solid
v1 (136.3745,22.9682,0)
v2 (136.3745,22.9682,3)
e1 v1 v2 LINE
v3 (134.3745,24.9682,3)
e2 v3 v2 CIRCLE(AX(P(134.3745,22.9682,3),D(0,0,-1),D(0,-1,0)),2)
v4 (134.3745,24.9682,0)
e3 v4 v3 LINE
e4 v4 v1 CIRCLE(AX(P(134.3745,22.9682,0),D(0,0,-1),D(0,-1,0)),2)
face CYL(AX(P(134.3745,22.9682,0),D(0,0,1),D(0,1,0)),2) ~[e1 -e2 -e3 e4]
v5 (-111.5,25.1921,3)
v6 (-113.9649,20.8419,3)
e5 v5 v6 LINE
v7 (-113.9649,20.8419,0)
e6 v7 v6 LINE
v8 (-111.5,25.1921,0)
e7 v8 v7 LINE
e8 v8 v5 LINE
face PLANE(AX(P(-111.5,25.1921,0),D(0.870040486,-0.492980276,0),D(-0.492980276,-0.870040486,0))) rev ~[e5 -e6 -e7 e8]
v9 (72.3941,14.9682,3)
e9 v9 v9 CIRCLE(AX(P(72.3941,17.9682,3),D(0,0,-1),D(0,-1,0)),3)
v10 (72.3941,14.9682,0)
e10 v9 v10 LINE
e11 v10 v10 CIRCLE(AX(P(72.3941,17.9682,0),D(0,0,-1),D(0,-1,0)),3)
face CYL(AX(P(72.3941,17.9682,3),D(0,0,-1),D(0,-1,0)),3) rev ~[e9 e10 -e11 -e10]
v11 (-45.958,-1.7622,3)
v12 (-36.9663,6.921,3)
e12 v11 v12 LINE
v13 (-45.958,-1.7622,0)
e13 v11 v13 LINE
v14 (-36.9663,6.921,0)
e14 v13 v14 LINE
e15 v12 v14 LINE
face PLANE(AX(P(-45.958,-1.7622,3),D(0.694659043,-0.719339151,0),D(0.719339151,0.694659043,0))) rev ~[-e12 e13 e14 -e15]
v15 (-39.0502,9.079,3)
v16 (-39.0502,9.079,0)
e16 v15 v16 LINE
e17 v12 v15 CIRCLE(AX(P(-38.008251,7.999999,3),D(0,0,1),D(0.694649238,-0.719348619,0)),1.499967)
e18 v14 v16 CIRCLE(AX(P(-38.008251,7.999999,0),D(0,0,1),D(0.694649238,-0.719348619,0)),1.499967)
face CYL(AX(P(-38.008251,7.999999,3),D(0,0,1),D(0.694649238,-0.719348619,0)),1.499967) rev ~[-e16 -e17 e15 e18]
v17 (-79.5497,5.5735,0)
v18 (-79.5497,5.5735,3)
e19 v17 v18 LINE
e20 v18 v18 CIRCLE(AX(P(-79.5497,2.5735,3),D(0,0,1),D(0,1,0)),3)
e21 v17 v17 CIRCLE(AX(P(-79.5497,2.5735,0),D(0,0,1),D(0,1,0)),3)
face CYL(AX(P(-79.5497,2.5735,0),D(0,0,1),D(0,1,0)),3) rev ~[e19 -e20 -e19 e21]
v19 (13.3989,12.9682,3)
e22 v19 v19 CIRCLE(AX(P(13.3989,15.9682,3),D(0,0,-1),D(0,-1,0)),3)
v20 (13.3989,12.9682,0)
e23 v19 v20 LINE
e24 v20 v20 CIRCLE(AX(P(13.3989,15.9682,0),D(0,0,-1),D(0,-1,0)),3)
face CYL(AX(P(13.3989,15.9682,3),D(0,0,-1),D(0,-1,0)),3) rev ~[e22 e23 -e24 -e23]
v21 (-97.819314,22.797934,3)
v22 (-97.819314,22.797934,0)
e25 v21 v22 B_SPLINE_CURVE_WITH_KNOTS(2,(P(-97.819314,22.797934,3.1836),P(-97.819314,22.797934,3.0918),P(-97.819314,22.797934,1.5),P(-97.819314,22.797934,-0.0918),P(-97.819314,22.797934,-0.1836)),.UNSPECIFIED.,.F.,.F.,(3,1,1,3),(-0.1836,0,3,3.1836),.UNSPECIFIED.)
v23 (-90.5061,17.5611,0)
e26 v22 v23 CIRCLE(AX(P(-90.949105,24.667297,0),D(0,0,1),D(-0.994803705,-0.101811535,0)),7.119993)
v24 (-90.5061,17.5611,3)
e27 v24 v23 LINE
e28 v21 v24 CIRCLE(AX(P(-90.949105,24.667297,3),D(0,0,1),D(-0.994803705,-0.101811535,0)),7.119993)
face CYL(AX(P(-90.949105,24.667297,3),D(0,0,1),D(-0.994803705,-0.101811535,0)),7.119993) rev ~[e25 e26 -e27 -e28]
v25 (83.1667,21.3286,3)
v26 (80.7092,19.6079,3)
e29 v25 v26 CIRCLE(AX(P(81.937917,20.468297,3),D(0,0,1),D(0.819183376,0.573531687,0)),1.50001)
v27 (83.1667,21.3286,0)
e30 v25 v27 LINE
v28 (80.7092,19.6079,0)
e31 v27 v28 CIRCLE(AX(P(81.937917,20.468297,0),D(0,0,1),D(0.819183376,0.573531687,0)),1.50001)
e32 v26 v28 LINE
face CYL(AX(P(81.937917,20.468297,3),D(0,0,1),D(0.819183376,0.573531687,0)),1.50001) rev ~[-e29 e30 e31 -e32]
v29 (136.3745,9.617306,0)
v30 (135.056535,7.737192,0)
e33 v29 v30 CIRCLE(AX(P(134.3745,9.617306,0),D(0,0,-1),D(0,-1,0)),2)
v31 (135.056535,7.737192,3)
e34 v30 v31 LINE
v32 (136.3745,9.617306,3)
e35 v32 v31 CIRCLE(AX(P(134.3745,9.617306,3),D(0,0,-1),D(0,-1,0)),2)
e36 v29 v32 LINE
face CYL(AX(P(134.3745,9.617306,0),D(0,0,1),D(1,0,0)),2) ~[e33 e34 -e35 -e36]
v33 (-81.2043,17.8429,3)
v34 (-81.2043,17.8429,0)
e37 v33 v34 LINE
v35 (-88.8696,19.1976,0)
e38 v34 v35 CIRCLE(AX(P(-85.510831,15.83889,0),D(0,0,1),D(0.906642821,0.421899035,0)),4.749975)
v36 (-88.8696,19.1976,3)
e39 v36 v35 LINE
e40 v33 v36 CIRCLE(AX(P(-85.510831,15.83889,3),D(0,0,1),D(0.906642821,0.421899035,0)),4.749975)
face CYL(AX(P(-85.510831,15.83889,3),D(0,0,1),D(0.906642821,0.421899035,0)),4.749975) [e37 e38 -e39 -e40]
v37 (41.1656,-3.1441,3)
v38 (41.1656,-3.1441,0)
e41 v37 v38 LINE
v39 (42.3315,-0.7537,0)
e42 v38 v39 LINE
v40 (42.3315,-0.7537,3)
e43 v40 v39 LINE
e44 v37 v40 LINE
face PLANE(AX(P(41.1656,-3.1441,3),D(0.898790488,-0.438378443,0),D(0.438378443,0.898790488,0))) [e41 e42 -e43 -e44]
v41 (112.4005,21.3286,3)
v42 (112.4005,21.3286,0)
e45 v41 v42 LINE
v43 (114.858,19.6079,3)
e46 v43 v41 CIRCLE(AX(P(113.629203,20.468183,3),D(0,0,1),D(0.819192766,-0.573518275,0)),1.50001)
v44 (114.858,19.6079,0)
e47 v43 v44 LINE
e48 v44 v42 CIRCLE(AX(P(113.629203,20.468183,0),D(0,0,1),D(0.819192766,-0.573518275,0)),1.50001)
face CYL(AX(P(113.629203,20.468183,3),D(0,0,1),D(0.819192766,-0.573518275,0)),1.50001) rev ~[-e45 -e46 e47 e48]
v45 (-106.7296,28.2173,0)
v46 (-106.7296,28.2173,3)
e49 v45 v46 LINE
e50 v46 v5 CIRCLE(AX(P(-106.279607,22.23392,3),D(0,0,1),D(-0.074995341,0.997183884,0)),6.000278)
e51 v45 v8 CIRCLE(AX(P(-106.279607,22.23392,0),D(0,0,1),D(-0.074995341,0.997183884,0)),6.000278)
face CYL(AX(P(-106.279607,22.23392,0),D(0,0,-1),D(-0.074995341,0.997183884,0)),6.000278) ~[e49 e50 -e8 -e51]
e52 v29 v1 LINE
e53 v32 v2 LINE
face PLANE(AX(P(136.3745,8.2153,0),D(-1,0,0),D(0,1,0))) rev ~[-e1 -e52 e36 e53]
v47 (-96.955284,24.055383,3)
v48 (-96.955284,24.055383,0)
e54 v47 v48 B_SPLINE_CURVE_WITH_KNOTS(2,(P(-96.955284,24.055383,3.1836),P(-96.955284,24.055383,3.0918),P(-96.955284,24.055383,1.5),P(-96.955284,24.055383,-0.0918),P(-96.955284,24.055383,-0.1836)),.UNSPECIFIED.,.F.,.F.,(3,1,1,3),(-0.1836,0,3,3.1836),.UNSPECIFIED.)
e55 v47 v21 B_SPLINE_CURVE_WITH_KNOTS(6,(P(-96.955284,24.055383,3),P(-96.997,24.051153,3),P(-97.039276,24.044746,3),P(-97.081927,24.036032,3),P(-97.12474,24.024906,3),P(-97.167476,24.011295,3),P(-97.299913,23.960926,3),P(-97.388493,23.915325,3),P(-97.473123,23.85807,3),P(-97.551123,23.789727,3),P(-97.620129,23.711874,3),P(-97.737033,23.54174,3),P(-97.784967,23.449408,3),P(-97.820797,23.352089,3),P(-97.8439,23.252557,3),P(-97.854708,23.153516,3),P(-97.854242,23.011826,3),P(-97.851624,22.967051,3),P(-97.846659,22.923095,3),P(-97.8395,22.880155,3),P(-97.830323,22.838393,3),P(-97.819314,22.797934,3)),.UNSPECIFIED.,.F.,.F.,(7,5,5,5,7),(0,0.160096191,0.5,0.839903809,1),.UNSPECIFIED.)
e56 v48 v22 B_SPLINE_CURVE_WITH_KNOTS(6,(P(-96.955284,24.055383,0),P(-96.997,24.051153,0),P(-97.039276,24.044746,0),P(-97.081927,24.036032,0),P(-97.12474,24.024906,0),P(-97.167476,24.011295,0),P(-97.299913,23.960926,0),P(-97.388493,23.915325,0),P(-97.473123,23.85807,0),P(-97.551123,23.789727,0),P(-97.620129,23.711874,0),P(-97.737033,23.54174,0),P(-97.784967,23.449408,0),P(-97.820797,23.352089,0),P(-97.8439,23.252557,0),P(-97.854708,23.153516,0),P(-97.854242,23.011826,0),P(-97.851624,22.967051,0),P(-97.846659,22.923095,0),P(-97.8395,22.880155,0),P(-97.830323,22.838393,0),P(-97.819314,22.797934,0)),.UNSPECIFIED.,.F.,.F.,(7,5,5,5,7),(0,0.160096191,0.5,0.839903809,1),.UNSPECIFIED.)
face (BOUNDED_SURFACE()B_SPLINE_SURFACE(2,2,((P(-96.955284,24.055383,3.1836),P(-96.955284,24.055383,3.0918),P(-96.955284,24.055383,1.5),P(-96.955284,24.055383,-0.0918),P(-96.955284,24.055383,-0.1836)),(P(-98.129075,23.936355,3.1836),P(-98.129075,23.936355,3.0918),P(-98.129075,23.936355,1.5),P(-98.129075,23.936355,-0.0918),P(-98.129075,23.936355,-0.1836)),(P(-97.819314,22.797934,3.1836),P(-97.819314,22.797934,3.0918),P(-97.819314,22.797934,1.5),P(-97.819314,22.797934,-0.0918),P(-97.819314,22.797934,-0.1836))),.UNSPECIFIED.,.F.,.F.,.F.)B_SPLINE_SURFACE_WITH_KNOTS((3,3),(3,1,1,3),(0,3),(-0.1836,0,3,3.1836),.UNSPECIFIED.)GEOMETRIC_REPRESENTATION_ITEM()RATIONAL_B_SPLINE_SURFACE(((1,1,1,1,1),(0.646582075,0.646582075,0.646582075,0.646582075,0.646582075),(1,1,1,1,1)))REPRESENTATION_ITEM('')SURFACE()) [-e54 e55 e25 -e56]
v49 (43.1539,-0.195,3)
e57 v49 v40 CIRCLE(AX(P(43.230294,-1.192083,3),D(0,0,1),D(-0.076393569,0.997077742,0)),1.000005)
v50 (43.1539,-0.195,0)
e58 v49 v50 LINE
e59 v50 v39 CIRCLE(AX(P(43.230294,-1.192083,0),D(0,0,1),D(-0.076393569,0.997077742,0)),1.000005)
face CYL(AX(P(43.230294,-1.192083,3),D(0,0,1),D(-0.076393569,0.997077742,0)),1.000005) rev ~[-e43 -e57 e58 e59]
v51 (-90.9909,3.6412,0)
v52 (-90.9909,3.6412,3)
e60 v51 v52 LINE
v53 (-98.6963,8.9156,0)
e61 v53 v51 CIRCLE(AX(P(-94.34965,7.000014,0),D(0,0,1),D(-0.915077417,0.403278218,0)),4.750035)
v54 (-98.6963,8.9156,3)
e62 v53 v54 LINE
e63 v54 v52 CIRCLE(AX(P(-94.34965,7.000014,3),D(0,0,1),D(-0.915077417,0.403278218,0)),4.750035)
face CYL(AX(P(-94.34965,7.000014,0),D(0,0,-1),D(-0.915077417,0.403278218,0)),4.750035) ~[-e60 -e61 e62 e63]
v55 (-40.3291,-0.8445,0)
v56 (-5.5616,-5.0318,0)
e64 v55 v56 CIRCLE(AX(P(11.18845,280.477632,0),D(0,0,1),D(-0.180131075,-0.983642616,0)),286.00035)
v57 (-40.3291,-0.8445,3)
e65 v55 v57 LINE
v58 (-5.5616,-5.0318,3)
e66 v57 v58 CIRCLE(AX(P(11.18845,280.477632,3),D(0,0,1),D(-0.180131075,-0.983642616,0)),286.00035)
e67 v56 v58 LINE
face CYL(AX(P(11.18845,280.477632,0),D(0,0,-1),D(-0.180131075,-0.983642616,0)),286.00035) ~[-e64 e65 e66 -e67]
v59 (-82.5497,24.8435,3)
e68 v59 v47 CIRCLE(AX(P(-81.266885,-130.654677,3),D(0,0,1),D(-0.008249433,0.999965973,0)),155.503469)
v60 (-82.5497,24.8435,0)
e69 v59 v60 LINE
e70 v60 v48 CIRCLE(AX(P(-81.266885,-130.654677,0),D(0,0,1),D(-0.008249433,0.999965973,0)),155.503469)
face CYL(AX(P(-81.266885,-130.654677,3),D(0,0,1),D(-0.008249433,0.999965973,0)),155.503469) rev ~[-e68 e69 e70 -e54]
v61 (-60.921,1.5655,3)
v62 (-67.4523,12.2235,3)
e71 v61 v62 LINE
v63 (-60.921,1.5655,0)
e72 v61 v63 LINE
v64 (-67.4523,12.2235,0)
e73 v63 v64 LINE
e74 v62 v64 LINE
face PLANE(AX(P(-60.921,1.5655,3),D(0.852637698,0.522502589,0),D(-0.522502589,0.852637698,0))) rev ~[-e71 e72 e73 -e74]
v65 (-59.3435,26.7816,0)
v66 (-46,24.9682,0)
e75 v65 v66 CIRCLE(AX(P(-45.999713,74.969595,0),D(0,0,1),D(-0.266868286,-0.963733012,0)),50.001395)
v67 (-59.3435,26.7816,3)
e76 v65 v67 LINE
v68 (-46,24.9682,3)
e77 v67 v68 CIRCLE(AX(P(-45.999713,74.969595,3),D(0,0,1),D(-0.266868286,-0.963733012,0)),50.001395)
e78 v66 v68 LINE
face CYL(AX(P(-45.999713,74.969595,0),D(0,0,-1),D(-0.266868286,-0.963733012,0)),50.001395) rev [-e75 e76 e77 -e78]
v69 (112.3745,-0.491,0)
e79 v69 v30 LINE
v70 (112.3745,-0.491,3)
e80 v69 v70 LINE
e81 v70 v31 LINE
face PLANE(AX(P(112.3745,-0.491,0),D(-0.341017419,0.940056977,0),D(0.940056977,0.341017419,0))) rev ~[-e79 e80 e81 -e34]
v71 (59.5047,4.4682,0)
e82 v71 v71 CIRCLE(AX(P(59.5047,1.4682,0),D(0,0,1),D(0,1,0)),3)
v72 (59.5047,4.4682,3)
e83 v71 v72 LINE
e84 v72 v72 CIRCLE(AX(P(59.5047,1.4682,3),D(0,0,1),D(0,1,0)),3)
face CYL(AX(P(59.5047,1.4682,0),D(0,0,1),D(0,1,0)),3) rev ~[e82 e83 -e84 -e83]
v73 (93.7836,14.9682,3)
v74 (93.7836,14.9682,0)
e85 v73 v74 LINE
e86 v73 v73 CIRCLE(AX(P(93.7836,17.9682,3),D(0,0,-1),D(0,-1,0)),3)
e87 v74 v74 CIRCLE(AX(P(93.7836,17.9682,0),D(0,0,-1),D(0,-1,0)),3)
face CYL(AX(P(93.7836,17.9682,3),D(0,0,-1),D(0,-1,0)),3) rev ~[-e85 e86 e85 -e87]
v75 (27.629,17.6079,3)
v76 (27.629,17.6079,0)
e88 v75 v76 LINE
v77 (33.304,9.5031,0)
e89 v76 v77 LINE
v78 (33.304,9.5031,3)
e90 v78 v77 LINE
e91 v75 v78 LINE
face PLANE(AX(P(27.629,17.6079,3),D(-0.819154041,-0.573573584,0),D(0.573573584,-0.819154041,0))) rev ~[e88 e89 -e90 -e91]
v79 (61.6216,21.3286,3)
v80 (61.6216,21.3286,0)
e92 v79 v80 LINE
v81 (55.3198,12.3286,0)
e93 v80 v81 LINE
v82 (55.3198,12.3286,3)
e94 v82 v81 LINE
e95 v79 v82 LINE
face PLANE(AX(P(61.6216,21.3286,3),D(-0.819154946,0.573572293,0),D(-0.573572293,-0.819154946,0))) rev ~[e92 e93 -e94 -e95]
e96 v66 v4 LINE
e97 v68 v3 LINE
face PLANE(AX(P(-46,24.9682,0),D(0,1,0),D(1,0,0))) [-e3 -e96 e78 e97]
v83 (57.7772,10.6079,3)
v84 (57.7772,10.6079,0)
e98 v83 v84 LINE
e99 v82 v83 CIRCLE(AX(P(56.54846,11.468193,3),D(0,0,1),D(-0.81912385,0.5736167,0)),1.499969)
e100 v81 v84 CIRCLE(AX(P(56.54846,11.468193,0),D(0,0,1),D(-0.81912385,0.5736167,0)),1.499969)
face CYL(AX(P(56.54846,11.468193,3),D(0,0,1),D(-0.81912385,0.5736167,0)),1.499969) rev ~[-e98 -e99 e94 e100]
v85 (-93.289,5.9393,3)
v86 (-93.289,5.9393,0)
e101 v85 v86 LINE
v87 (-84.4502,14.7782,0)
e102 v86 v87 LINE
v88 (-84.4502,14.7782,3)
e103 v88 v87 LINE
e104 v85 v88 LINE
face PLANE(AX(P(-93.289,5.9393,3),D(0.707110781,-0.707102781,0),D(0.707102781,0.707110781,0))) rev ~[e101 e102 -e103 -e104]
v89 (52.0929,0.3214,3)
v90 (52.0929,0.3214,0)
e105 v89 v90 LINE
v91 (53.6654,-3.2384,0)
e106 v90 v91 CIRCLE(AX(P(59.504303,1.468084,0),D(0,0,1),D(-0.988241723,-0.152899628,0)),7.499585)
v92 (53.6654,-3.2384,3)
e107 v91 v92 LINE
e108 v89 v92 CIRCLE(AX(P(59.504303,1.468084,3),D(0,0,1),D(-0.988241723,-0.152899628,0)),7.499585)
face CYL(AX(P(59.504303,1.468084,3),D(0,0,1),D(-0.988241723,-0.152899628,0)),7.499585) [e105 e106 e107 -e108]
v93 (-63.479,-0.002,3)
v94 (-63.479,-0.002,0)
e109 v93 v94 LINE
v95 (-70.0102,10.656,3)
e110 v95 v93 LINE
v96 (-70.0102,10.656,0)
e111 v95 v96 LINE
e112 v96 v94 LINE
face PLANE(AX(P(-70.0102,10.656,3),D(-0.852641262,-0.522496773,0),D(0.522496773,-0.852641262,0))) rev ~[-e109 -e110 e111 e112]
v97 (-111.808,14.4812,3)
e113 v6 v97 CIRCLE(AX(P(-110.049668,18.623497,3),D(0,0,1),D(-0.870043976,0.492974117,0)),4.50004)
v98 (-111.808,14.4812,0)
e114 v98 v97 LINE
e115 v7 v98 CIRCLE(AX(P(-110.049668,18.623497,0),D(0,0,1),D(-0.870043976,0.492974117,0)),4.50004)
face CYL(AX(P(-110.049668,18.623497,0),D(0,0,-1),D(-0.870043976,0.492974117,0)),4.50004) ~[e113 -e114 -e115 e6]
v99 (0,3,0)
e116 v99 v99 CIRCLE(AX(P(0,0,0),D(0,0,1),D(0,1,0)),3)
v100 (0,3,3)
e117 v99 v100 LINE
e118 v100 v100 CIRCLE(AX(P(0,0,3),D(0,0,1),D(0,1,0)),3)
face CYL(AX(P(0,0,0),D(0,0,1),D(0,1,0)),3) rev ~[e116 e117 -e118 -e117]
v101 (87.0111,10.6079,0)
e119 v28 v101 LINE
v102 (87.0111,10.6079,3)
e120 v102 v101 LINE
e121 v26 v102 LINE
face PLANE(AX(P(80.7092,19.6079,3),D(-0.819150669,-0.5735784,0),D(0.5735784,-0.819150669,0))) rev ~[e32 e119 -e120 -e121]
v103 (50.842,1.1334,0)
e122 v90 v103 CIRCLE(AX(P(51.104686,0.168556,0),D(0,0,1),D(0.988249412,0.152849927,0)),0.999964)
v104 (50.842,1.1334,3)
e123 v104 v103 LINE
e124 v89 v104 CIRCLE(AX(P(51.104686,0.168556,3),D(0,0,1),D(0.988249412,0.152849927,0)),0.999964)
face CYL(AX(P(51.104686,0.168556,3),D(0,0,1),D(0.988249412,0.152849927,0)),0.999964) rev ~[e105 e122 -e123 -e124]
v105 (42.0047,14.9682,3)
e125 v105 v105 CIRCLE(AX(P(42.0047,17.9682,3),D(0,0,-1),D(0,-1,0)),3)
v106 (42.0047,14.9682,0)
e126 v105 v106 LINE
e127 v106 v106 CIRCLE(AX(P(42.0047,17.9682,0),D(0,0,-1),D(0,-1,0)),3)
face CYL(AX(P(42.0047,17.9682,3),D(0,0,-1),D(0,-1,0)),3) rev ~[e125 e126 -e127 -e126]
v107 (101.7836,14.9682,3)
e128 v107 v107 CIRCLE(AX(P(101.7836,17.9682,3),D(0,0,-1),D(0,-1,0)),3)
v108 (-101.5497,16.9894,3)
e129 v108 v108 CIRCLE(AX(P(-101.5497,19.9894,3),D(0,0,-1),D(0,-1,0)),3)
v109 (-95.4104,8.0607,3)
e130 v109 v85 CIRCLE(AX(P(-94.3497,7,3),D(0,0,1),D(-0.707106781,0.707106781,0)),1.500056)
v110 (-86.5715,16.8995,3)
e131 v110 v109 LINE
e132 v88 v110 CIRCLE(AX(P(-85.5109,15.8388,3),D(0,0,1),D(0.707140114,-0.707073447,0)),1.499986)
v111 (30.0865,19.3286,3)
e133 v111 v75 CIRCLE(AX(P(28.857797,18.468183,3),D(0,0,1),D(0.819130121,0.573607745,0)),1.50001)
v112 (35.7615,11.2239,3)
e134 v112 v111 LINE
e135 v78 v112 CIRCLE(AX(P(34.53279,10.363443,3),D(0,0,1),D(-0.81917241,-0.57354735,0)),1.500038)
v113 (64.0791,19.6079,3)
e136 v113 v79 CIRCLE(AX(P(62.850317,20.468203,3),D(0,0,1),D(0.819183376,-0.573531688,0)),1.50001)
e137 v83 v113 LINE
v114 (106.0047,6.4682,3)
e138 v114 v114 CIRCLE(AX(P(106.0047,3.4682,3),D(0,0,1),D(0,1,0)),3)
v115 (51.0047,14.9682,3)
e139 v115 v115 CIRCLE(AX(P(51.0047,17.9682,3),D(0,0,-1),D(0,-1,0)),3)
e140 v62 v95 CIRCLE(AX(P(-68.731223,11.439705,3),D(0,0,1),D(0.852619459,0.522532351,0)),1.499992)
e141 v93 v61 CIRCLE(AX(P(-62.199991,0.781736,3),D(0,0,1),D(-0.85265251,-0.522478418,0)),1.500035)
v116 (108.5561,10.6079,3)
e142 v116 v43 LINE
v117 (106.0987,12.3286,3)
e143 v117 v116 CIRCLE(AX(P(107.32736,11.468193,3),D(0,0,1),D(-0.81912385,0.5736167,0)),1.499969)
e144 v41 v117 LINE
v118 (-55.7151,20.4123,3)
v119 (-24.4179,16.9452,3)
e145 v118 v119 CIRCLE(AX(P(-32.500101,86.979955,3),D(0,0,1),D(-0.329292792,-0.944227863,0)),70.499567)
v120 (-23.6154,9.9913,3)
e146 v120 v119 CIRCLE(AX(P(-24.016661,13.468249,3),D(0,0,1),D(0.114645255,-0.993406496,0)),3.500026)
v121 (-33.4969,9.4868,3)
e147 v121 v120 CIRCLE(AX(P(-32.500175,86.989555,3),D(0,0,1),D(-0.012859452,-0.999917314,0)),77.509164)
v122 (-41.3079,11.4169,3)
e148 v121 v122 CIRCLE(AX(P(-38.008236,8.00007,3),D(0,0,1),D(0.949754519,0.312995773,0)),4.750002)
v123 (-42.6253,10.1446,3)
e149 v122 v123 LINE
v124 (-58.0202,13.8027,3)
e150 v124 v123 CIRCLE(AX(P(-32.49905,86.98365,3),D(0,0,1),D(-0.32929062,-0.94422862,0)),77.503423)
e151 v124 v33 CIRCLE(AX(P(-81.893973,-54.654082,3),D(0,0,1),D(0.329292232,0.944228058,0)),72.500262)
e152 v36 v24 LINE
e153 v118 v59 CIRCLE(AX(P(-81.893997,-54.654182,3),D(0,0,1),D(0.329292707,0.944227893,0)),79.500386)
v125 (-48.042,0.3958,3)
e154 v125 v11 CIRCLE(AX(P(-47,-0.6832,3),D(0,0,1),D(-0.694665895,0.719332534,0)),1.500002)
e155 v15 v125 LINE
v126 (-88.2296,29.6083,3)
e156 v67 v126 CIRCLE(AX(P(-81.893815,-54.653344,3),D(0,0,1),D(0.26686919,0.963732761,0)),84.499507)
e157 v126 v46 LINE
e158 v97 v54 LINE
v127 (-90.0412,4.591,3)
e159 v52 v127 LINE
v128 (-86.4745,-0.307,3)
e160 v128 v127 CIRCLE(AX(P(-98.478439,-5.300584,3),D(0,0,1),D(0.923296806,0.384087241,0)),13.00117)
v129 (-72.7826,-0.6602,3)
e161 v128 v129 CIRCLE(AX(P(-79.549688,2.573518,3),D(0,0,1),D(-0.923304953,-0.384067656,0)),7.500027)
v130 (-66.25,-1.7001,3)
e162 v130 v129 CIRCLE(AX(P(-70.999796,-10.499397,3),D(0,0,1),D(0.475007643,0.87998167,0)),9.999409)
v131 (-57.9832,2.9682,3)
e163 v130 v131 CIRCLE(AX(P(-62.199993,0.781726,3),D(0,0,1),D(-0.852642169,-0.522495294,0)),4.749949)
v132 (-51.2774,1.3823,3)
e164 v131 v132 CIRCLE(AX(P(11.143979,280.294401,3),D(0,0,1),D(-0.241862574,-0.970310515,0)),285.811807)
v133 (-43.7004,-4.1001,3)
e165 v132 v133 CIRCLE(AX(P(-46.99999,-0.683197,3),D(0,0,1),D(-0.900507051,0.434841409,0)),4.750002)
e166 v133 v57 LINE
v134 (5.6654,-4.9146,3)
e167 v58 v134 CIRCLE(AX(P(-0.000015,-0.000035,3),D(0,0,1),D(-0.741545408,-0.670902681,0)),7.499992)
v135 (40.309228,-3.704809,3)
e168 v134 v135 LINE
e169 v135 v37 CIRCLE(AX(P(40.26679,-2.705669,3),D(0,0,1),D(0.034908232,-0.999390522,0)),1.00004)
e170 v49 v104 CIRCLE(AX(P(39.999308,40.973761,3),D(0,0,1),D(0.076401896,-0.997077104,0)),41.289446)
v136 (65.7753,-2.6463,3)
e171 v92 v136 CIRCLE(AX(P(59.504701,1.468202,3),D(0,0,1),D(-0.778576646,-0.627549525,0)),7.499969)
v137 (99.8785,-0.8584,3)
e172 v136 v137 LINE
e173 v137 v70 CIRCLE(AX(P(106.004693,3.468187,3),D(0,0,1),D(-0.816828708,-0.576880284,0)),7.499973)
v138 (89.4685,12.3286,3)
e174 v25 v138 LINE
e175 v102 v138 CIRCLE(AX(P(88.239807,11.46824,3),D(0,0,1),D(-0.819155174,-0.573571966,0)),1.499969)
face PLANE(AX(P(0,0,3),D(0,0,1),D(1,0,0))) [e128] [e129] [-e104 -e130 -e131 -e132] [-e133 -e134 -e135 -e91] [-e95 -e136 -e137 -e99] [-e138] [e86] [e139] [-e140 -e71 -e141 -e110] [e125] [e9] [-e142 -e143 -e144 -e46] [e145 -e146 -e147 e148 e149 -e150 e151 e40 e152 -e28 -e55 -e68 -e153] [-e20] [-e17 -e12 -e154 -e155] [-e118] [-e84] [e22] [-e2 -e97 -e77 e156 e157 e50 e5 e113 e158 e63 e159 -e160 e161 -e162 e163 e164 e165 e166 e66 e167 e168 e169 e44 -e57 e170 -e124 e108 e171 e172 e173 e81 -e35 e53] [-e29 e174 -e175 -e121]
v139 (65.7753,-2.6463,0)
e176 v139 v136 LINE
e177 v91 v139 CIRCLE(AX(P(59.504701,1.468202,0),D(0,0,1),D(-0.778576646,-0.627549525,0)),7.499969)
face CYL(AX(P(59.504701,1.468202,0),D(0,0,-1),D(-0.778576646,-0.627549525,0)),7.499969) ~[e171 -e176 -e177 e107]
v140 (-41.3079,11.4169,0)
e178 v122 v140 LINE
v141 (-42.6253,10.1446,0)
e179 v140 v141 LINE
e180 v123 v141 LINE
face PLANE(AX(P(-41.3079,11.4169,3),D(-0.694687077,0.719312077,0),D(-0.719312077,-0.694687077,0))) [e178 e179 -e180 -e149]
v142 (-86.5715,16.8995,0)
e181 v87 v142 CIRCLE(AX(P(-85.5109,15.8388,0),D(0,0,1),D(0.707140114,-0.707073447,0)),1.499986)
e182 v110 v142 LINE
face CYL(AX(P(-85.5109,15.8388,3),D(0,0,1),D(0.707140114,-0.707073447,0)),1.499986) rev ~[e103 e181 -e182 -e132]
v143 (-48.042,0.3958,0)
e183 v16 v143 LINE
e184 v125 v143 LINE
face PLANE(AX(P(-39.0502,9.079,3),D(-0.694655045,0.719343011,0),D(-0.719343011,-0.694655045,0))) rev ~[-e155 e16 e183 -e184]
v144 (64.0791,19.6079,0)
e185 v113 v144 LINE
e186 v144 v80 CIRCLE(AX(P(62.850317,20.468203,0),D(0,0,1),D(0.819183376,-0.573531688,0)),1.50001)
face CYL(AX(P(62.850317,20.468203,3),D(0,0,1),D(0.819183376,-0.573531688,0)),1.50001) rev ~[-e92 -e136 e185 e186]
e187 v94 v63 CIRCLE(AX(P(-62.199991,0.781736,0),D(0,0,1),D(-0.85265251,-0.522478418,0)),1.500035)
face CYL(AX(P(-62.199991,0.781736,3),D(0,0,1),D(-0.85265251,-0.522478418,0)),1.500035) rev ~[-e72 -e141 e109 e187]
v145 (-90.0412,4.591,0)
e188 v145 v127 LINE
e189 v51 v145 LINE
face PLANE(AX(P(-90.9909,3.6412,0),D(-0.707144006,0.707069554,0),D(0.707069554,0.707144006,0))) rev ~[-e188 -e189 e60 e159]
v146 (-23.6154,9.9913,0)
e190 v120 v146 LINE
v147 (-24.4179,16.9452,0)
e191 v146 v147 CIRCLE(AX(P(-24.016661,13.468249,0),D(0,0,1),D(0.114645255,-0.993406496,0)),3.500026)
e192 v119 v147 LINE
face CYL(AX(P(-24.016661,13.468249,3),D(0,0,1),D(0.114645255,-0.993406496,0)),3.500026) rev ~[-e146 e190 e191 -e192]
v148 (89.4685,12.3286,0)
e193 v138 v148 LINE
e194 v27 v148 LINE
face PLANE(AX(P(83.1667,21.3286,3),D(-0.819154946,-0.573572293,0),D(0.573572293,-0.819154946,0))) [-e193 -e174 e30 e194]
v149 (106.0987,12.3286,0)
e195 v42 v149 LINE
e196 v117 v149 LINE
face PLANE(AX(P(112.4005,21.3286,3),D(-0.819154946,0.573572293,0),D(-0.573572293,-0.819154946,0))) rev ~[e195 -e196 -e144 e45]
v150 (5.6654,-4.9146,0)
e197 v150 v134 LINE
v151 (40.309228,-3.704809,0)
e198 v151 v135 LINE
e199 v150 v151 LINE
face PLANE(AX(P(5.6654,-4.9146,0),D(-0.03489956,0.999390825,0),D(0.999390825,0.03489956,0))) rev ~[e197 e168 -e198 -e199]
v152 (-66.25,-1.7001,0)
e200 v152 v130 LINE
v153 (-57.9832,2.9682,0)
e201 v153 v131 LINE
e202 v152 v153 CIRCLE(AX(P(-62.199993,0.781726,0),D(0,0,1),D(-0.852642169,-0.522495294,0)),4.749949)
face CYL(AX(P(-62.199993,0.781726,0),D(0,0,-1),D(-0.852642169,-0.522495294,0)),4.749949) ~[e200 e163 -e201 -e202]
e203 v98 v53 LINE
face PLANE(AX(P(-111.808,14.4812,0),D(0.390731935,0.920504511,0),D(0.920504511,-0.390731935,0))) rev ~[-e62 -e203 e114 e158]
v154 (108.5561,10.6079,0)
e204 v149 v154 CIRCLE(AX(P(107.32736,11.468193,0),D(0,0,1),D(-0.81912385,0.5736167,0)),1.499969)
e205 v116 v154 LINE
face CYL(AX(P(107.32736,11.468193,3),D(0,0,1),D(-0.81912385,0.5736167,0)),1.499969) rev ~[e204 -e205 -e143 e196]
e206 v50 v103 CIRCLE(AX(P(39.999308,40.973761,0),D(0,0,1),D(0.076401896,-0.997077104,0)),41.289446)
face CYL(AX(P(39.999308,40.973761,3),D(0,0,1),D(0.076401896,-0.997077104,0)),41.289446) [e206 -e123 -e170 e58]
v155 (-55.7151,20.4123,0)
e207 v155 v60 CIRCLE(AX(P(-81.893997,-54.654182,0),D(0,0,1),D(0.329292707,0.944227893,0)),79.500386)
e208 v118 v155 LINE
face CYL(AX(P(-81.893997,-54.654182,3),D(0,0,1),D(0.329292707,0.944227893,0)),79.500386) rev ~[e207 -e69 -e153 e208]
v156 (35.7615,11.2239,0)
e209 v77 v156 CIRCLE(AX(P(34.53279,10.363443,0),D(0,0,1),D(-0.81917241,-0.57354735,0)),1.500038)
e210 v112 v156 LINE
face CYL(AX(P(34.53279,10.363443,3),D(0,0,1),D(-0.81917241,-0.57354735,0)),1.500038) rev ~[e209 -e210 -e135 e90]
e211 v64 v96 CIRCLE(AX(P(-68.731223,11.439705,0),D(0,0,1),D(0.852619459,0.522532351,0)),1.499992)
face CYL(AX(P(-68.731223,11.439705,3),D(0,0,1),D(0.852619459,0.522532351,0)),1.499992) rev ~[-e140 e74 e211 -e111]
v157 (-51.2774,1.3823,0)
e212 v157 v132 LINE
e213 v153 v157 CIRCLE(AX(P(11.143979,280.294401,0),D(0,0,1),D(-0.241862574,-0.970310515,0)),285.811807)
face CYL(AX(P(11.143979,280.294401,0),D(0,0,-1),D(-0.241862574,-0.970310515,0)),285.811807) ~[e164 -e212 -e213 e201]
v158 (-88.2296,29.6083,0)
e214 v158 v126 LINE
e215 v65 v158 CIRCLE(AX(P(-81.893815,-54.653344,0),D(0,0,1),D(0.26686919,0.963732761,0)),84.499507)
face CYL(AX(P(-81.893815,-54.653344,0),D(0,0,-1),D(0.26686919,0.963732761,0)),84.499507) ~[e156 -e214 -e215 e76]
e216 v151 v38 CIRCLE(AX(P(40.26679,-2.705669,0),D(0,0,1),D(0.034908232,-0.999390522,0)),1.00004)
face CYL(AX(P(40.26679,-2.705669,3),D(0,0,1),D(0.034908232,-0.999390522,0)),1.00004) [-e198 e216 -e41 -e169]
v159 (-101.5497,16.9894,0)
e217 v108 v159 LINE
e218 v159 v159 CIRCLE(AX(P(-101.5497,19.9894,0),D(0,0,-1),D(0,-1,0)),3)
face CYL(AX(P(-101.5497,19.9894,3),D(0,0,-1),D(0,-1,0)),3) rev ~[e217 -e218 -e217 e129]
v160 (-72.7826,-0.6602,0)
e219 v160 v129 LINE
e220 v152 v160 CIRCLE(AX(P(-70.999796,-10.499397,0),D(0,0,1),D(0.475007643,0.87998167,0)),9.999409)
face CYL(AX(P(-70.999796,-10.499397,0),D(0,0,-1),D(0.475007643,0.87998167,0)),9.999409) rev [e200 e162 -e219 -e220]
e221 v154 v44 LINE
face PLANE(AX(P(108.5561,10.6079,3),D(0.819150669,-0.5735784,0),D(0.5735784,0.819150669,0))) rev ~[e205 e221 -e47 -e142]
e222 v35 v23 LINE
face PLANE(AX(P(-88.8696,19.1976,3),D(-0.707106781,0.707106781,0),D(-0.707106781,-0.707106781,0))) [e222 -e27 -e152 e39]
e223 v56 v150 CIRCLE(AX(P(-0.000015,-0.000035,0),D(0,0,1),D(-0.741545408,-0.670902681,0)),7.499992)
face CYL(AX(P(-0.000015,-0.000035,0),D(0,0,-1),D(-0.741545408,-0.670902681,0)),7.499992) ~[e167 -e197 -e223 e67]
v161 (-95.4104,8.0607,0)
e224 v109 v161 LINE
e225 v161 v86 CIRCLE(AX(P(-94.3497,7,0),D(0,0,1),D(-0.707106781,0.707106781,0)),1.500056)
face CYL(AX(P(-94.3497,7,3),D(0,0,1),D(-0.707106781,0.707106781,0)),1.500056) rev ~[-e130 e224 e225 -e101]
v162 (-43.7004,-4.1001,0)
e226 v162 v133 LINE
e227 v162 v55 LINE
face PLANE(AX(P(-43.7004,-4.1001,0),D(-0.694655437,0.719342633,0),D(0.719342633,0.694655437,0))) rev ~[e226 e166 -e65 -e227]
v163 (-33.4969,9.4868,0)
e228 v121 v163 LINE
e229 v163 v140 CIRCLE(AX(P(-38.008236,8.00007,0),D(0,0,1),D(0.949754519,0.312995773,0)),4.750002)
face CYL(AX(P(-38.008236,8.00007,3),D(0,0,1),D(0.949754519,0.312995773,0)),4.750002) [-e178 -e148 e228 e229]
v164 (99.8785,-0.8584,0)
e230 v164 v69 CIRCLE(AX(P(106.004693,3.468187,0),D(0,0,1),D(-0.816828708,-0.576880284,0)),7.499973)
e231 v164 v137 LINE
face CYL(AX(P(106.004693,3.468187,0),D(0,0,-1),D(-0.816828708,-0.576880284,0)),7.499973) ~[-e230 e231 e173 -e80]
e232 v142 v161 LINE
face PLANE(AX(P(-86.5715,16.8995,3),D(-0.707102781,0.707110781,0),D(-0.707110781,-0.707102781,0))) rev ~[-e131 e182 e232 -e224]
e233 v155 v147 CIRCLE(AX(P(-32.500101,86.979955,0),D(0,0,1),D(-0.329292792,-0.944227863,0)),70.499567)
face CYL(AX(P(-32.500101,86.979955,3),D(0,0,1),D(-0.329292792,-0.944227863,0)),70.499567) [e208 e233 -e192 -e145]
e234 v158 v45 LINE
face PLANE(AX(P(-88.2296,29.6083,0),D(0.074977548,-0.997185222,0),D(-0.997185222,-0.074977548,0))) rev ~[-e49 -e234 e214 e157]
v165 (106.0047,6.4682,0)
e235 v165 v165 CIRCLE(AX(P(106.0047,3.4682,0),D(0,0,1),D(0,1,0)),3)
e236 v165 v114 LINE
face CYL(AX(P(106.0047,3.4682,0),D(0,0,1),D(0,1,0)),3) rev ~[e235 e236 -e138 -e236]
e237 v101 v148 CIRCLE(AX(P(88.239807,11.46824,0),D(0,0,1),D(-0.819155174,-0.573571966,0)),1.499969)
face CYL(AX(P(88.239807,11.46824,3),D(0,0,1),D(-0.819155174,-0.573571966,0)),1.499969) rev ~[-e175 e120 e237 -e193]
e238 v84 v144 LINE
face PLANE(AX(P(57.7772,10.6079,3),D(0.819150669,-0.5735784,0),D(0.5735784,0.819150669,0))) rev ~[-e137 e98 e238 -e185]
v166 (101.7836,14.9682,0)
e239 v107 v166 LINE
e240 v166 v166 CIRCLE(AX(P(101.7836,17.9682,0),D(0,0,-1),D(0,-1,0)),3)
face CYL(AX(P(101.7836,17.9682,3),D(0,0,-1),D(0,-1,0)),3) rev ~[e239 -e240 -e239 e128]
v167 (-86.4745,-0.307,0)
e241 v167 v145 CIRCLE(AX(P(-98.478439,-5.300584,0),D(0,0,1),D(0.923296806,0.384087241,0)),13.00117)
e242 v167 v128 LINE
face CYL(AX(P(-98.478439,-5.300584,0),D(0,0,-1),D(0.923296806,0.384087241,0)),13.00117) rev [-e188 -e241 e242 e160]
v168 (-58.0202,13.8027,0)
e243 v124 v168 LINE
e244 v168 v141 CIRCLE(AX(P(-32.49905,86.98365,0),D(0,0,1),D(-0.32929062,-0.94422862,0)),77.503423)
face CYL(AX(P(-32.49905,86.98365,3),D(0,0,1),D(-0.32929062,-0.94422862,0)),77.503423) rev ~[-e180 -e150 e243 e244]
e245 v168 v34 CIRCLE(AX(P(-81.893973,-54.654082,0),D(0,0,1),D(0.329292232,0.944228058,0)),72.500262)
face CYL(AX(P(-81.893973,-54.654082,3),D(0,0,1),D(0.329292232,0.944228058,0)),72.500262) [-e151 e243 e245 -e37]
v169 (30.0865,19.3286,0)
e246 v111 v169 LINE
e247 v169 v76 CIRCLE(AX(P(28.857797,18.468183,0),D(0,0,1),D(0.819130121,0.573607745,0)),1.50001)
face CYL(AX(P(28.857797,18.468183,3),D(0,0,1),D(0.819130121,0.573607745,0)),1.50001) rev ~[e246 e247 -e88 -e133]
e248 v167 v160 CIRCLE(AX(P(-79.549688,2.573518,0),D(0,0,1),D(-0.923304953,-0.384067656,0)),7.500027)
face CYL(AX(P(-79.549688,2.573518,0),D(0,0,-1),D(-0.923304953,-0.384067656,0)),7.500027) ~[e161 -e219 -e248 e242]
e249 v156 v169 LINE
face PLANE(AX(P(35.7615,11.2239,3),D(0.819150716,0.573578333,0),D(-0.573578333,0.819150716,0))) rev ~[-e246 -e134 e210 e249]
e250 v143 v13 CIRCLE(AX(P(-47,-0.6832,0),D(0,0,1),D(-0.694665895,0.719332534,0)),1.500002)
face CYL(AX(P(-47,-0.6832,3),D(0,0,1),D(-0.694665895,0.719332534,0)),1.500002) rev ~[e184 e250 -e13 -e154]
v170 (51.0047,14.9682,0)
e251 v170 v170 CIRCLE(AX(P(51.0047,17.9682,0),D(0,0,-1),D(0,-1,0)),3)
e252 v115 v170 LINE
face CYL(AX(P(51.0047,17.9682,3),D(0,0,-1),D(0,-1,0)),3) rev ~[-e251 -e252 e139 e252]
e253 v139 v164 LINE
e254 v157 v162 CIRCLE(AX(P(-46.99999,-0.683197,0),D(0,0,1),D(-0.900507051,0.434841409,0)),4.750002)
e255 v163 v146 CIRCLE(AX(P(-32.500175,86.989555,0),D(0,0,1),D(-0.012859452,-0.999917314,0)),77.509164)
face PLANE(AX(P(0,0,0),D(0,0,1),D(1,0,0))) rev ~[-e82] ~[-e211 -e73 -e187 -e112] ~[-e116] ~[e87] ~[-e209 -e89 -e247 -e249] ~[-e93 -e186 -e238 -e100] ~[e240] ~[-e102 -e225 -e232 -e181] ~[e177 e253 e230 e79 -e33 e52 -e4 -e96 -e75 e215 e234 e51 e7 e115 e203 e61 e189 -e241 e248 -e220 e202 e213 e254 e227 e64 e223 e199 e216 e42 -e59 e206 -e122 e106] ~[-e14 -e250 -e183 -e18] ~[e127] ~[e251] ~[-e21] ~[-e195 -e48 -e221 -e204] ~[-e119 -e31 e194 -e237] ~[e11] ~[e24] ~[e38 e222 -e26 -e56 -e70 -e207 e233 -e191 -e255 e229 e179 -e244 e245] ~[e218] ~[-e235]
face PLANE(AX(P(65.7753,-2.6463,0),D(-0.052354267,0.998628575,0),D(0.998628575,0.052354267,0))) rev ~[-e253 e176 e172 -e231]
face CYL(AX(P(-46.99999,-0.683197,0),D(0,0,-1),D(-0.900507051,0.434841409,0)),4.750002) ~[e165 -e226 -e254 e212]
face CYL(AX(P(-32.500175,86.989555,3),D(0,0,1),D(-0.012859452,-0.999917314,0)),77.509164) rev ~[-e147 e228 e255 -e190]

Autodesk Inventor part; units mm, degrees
ref_plane "YZ Plane" through (0, 0, 0) normal (1, 0, 0) x (0, 1, 0)
ref_plane "XZ Plane" through (0, 0, 0) normal (0, 1, 0) x (-1, 0, 0)
ref_plane "XY Plane" through (0, 0, 0) normal (0, 0, 1) x (1, 0, 0)
sketch "Base" plane through (0, 0, 0) normal (0, 0, 1) x (1, 0, 0)
  line L0 (-88.2296, 29.6083) -> (-106.7296, 28.2173)
  arc A0 (-106.7296, 28.2173) -> (-111.5, 25.1921) centre (-106.2797, 22.2342) ccw
  line L1 (-111.5, 25.1921) -> (-113.9649, 20.8419)
  arc A1 (-113.9649, 20.8419) -> (-111.808, 14.4812) centre (-110.0497, 18.6235) ccw
  line L2 (-111.808, 14.4812) -> (-98.6963, 8.9156)
  arc A2 (-98.6963, 8.9156) -> (-90.9909, 3.6412) centre (-94.3497, 7) ccw
  line L3 (-90.9909, 3.6412) -> (-90.0412, 4.591)
  arc A3 (-86.4745, -0.307) -> (-90.0412, 4.591) centre (-98.4774, -5.3) ccw
  arc A4 (-86.4745, -0.307) -> (-72.7826, -0.6602) centre (-79.5497, 2.5735) ccw
  arc A5 (-66.25, -1.7001) -> (-72.7826, -0.6602) centre (-71, -10.5) ccw
  arc A6 (-66.25, -1.7001) -> (-57.9832, 2.9682) centre (-62.2, 0.7817) ccw
  arc A7 (-57.9832, 2.9682) -> (-51.2774, 1.3823) centre (11.1884, 280.4773) ccw
  arc A8 (-51.2774, 1.3823) -> (-43.7004, -4.1001) centre (-47, -0.6832) ccw
  line L4 (-43.7004, -4.1001) -> (-40.3291, -0.8445)
  arc A9 (-40.3291, -0.8445) -> (-5.5616, -5.0318) centre (11.1884, 280.4773) ccw
  arc A10 (-59.3435, 26.7816) -> (-88.2296, 29.6083) centre (-81.8939, -54.6538) ccw
  arc A11 (-59.3435, 26.7816) -> (-46, 24.9682) centre (-46, 74.9682) ccw
  arc A12 (-5.5616, -5.0318) -> (5.6654, -4.9146) centre (0, 0) ccw
  line L5 (5.6654, -4.9146) -> (53.6654, -3.2384)
  arc A13 (53.6654, -3.2384) -> (65.7753, -2.6463) centre (59.5047, 1.4682) ccw
  line L6 (65.7753, -2.6463) -> (99.8785, -0.8584)
  arc A14 (99.8785, -0.8584) -> (112.3745, -0.491) centre (106.0047, 3.4682) ccw
  line L7 (112.3745, -0.491) -> (136.3745, 8.2153)
  line L8 (165.7955, 19.8419) -> (164.8009, 23.8311) construction
  arc A15 (165.1662, 18.6599) -> (165.7955, 19.8419) centre (164.8252, 19.6) ccw construction
  line L9 (-46, 24.9682) -> (136.3745, 24.9682)
  arc A16 (164.8009, 23.8311) -> (163.3454, 24.9682) centre (163.3454, 23.4682) ccw construction
  line L10 (136.3745, 8.2153) -> (136.3745, 24.9682)
  line L11 (136.3745, 24.9682) -> (163.3454, 24.9682) construction
  line L12 (136.3745, 8.2153) -> (165.1662, 18.6599) construction
  point P0 (164.5173, 24.9682)
  point P1 (-90.5161, 4.1161)
  dimension "d57" = 1.5
  dimension "d58" = 24
extrude "BaseFeature" add sketch "Base" along normal blind 3
sketch "Rails" plane through (0, 0, 3) normal (0, 0, 1) x (1, 0, 0)
  circle A0 centre (72.3941, 17.9682) radius 2.4585 projected
  circle A1 centre (51.0047, 17.9682) radius 2.4585 projected
  circle A2 centre (42.0047, 17.9682) radius 2.4585 projected
  line L0 (112.4005, 21.3286) -> (106.0987, 12.3286) projected
  arc A3 (106.0987, 12.3286) -> (108.5561, 10.6079) centre (107.3274, 11.4682) ccw projected
  line L1 (108.5561, 10.6079) -> (114.858, 19.6079) projected
  arc A4 (114.858, 19.6079) -> (112.4005, 21.3286) centre (113.6293, 20.4682) ccw projected
  line L2 (89.4685, 12.3286) -> (83.1667, 21.3286) projected
  arc A5 (83.1667, 21.3286) -> (80.7092, 19.6079) centre (81.9379, 20.4682) ccw projected
  line L3 (80.7092, 19.6079) -> (87.0111, 10.6079) projected
  arc A6 (87.0111, 10.6079) -> (89.4685, 12.3286) centre (88.2398, 11.4682) ccw projected
  circle A7 centre (72.3941, 17.9682) radius 2.4585 projected
  line L4 (57.7772, 10.6079) -> (64.0791, 19.6079) projected
  arc A8 (64.0791, 19.6079) -> (61.6216, 21.3286) centre (62.8503, 20.4682) ccw projected
  line L5 (61.6216, 21.3286) -> (55.3198, 12.3286) projected
  arc A9 (55.3198, 12.3286) -> (57.7772, 10.6079) centre (56.5485, 11.4682) ccw projected
  circle A10 centre (134.0047, 23.9682) radius 1.2295 projected
  circle A11 centre (158.0047, 23.9682) radius 1.2295 projected
  circle A12 centre (72.3941, 17.9682) radius 2.4585 projected
  circle A13 centre (93.7836, 17.9682) radius 2.4585 projected
  circle A14 centre (101.7836, 17.9682) radius 2.4585 projected
  line L6 (-39.0502, 9.079) -> (-48.042, 0.3958) projected
  arc A15 (-36.9663, 6.921) -> (-39.0502, 9.079) centre (-38.0083, 8) ccw projected
  line L7 (-45.958, -1.7622) -> (-36.9663, 6.921) projected
  arc A16 (-48.042, 0.3958) -> (-45.958, -1.7622) centre (-47, -0.6832) ccw projected
  arc A17 (-63.479, -0.002) -> (-60.921, 1.5655) centre (-62.2, 0.7817) ccw projected
  line L8 (-60.921, 1.5655) -> (-67.4523, 12.2235) projected
  line L9 (-70.0102, 10.656) -> (-63.479, -0.002) projected
  arc A18 (-67.4523, 12.2235) -> (-70.0102, 10.656) centre (-68.7312, 11.4398) ccw projected
  line L10 (-93.289, 5.9393) -> (-84.4502, 14.7782) projected
  arc A19 (-84.4502, 14.7782) -> (-86.5715, 16.8995) centre (-85.5109, 15.8388) ccw projected
  line L11 (-86.5715, 16.8995) -> (-95.4104, 8.0607) projected
  arc A20 (-95.4104, 8.0607) -> (-93.289, 5.9393) centre (-94.3497, 7) ccw projected
  circle A21 centre (13.3989, 15.9682) radius 2.4585 projected
  line L12 (35.7615, 11.2239) -> (30.0865, 19.3286) projected
  arc A22 (33.304, 9.5031) -> (35.7615, 11.2239) centre (34.5328, 10.3635) ccw projected
  arc A23 (30.0865, 19.3286) -> (27.629, 17.6079) centre (28.8578, 18.4682) ccw projected
  line L13 (27.629, 17.6079) -> (33.304, 9.5031) projected
  line L14 (-95.4104, 8.0607) -> (-86.5715, 16.8995)
  arc A24 (-95.4104, 8.0607) -> (-93.289, 5.9393) centre (-94.3497, 7) ccw
  line L15 (-84.4502, 14.7782) -> (-93.289, 5.9393)
  arc A25 (-84.4502, 14.7782) -> (-86.5715, 16.8995) centre (-85.5109, 15.8388) ccw
  arc A26 (-67.4523, 12.2235) -> (-70.0102, 10.656) centre (-68.7312, 11.4398) ccw
  line L16 (-63.479, -0.002) -> (-70.0102, 10.656)
  line L17 (-67.4523, 12.2235) -> (-60.921, 1.5655)
  arc A27 (-63.479, -0.002) -> (-60.921, 1.5655) centre (-62.2, 0.7817) ccw
  line L18 (-48.042, 0.3958) -> (-39.0502, 9.079)
  arc A28 (-48.042, 0.3958) -> (-45.958, -1.7622) centre (-47, -0.6832) ccw
  line L19 (-36.9663, 6.921) -> (-45.958, -1.7622)
  arc A29 (-36.9663, 6.921) -> (-39.0502, 9.079) centre (-38.0083, 8) ccw
  line L20 (33.304, 9.5031) -> (27.629, 17.6079)
  arc A30 (30.0865, 19.3286) -> (27.629, 17.6079) centre (28.8578, 18.4682) ccw
  line L21 (30.0865, 19.3286) -> (35.7615, 11.2239)
  arc A31 (33.304, 9.5031) -> (35.7615, 11.2239) centre (34.5328, 10.3635) ccw
  arc A32 (55.3198, 12.3286) -> (57.7772, 10.6079) centre (56.5485, 11.4682) ccw
  line L22 (64.0791, 19.6079) -> (57.7772, 10.6079)
  line L23 (55.3198, 12.3286) -> (61.6216, 21.3286)
  arc A33 (64.0791, 19.6079) -> (61.6216, 21.3286) centre (62.8503, 20.4682) ccw
  arc A34 (83.1667, 21.3286) -> (80.7092, 19.6079) centre (81.9379, 20.4682) ccw
  line L24 (87.0111, 10.6079) -> (80.7092, 19.6079)
  line L25 (83.1667, 21.3286) -> (89.4685, 12.3286)
  arc A35 (87.0111, 10.6079) -> (89.4685, 12.3286) centre (88.2398, 11.4682) ccw
  line L26 (106.0987, 12.3286) -> (112.4005, 21.3286)
  arc A36 (114.858, 19.6079) -> (112.4005, 21.3286) centre (113.6293, 20.4682) ccw
  line L27 (114.858, 19.6079) -> (108.5561, 10.6079)
  arc A37 (106.0987, 12.3286) -> (108.5561, 10.6079) centre (107.3274, 11.4682) ccw
  arc A38 (-102.0167, 23.4581) -> (-101.0827, 16.5207) centre (-101.5497, 19.9894) ccw construction
  spline S0 degree 3 poles (-20.9034, 11.8689) (-20.699, 12.2669) (-20.5753, 12.705) (-20.4895, 13.5682) (-20.5334, 14.0463) (-20.8057, 14.9369) (-21.0336, 15.3499) (-21.5235, 15.9479) (-21.7901, 16.193) (-22.0935, 16.3926) knots 0.402356 0.402356 0.402356 0.402356 0.529128 0.529128 0.66478 0.66478 0.800432 0.800432 0.906058 0.906058 0.906058 0.906058
  arc A39 (-55.7151, 20.4123) -> (-24.4179, 16.9452) centre (-32.5, 86.9804) ccw
  arc A40 (-22.0935, 16.3926) -> (-24.4179, 16.9452) centre (-24.0166, 13.4682) ccw
  arc A41 (-55.7151, 20.4123) -> (-82.5497, 24.8435) centre (-81.8939, -54.6538) ccw
  arc A42 (-82.5497, 24.8435) -> (-98.0321, 23.9424) centre (-81.267, -130.6512) ccw
  spline S1 degree 3 poles (-102.0167, 23.4581) (-102.2026, 23.4331) (-102.3877, 23.3929) (-103.0138, 23.2025) (-103.4291, 22.9741) (-104.1043, 22.4214) (-104.4106, 22.059) (-104.8528, 21.2372) (-104.9886, 20.7776) (-105.0359, 20.302) (-105.0388, 20.268) (-105.0412, 20.2339) knots -0.985233 -0.985233 -0.985233 -0.985233 -0.931443 -0.931443 -0.798305 -0.798305 -0.665074 -0.665074 -0.531843 -0.531843 -0.52167 -0.52167 -0.52167 -0.52167 construction
  arc A43 (-90.5061, 17.5611) -> (-101.0827, 16.5207) centre (-81.267, -130.6512) ccw construction
  arc A44 (-58.0202, 13.8027) -> (-81.2043, 17.8429) centre (-81.8939, -54.6538) ccw
  arc A45 (-58.0202, 13.8027) -> (-42.6253, 10.1446) centre (-32.5, 86.9804) ccw
  arc A46 (-33.4969, 9.4868) -> (-23.6154, 9.9913) centre (-32.5, 86.9804) ccw
  arc A47 (-58.0202, 13.8027) -> (-81.2043, 17.8429) centre (-81.8939, -54.6538) ccw
  arc A48 (-81.2043, 17.8429) -> (-88.8696, 19.1976) centre (-85.5109, 15.8388) ccw
  arc A49 (-33.4969, 9.4868) -> (-41.3079, 11.4169) centre (-38.0083, 8) ccw
  line L28 (-41.3079, 11.4169) -> (-42.6253, 10.1446)
  arc A50 (-23.6154, 9.9913) -> (-24.4179, 16.9452) centre (-24.0166, 13.4682) ccw
  line L29 (-88.8696, 19.1976) -> (-90.5061, 17.5611)
  arc A51 (-98.0321, 23.9424) -> (-90.5061, 17.5611) centre (-90.9491, 24.6673) ccw
  point P0 (0, 0)
sketch "RailsProjection" plane through (0, 0, 3) normal (0, 0, 1) x (1, 0, 0)
  arc A0 (-98.0321, 23.9424) -> (-90.5061, 17.5611) centre (-90.9491, 24.6673) ccw projected
  arc A1 (-82.5497, 24.8435) -> (-98.0321, 23.9424) centre (-81.267, -130.6512) ccw projected
  line L0 (-88.8696, 19.1976) -> (-90.5061, 17.5611) projected
  arc A2 (-81.2043, 17.8429) -> (-88.8696, 19.1976) centre (-85.5109, 15.8388) ccw projected
  arc A3 (-55.7151, 20.4123) -> (-82.5497, 24.8435) centre (-81.8939, -54.6538) ccw projected
  arc A4 (-58.0202, 13.8027) -> (-81.2043, 17.8429) centre (-81.8939, -54.6538) ccw projected
  arc A5 (-55.7151, 20.4123) -> (-24.4179, 16.9452) centre (-32.5, 86.9804) ccw projected
  arc A6 (-58.0202, 13.8027) -> (-42.6253, 10.1446) centre (-32.5, 86.9804) ccw projected
  line L1 (-41.3079, 11.4169) -> (-42.6253, 10.1446) projected
  arc A7 (-33.4969, 9.4868) -> (-41.3079, 11.4169) centre (-38.0083, 8) ccw projected
  arc A8 (-33.4969, 9.4868) -> (-23.6154, 9.9913) centre (-32.5, 86.9804) ccw projected
  arc A9 (-23.6154, 9.9913) -> (-24.4179, 16.9452) centre (-24.0166, 13.4682) ccw projected
  line L2 (-86.5715, 16.8995) -> (-95.4104, 8.0607) projected
  arc A10 (-84.4502, 14.7782) -> (-86.5715, 16.8995) centre (-85.5109, 15.8388) ccw projected
  line L3 (-93.289, 5.9393) -> (-84.4502, 14.7782) projected
  arc A11 (-95.4104, 8.0607) -> (-93.289, 5.9393) centre (-94.3497, 7) ccw projected
  arc A12 (-67.4523, 12.2235) -> (-70.0102, 10.656) centre (-68.7312, 11.4398) ccw projected
  line L4 (-70.0102, 10.656) -> (-63.479, -0.002) projected
  line L5 (-60.921, 1.5655) -> (-67.4523, 12.2235) projected
  arc A13 (-63.479, -0.002) -> (-60.921, 1.5655) centre (-62.2, 0.7817) ccw projected
  arc A14 (-48.042, 0.3958) -> (-45.958, -1.7622) centre (-47, -0.6832) ccw projected
  line L6 (-39.0502, 9.079) -> (-48.042, 0.3958) projected
  line L7 (-45.958, -1.7622) -> (-36.9663, 6.921) projected
  arc A15 (-36.9663, 6.921) -> (-39.0502, 9.079) centre (-38.0083, 8) ccw projected
  arc A16 (30.0865, 19.3286) -> (27.629, 17.6079) centre (28.8578, 18.4682) ccw projected
  line L8 (27.629, 17.6079) -> (33.304, 9.5031) projected
  line L9 (35.7615, 11.2239) -> (30.0865, 19.3286) projected
  arc A17 (33.304, 9.5031) -> (35.7615, 11.2239) centre (34.5328, 10.3635) ccw projected
  arc A18 (55.3198, 12.3286) -> (57.7772, 10.6079) centre (56.5485, 11.4682) ccw projected
  line L10 (61.6216, 21.3286) -> (55.3198, 12.3286) projected
  line L11 (57.7772, 10.6079) -> (64.0791, 19.6079) projected
  arc A19 (64.0791, 19.6079) -> (61.6216, 21.3286) centre (62.8503, 20.4682) ccw projected
  arc A20 (83.1667, 21.3286) -> (80.7092, 19.6079) centre (81.9379, 20.4682) ccw projected
  line L12 (80.7092, 19.6079) -> (87.0111, 10.6079) projected
  line L13 (83.1667, 21.3286) -> (89.4685, 12.3286) projected
  arc A21 (87.0111, 10.6079) -> (89.4685, 12.3286) centre (88.2398, 11.4682) ccw projected
  arc A22 (106.0987, 12.3286) -> (108.5561, 10.6079) centre (107.3274, 11.4682) ccw projected
  line L14 (112.4005, 21.3286) -> (106.0987, 12.3286) projected
  line L15 (108.5561, 10.6079) -> (114.858, 19.6079) projected
  arc A23 (114.858, 19.6079) -> (112.4005, 21.3286) centre (113.6293, 20.4682) ccw projected
  point P0 (0, 0)
extrude "RailsFeature" cut sketch "RailsProjection" against normal through all
sketch "BaseHoles" plane through (0, 0, 0) normal (0, 0, -1) x (-1, 0, 0)
  arc A0 (-112.3745, -0.491) -> (-99.8785, -0.8584) centre (-106.0047, 3.4682) ccw projected
  arc A1 (-65.7753, -2.6463) -> (-53.6654, -3.2384) centre (-59.5047, 1.4682) ccw projected
  arc A2 (72.7826, -0.6602) -> (86.4745, -0.307) centre (79.5497, 2.5735) ccw projected
  point P0 (0, 0)
hole "BaseHolesFeature" at (106.0047, 3.4682, 0) at (59.5047, 1.4682, 0) at (0, 0, 0) at (-79.5497, 2.5735, 0) direction (0, 0, 1) diameter 6 end through all
hole "TopHolesFeature" at (13.3989, 15.9682, 3) at (42.0047, 17.9682, 3) at (51.0047, 17.9682, 3) at (72.3941, 17.9682, 3) at (93.7836, 17.9682, 3) at (101.7836, 17.9682, 3) direction (0, 0, -1) diameter 6 end through all
hole "CableConnectorHoleFeature" at (-101.5497, 19.9894, 3) direction (0, 0, -1) diameter 6 end through all
fillet "LipFilletFeature" radius 1 1 edges at (-98.0321, 23.9424, 1.5)
sketch "BottomCut" plane through (0, 0, 3) normal (0, 0, 1) x (1, 0, 0)
  arc A0 (43.1539, -0.195) -> (50.842, 1.1334) centre (40, 40.9682) ccw construction
  arc A1 (52.0929, 0.3214) -> (50.842, 1.1334) centre (51.1046, 0.1685) ccw construction
  arc A2 (52.0929, 0.3214) -> (66.9872, 1.9798) centre (59.5047, 1.4682) ccw construction
  arc A3 (43.1539, -0.195) -> (50.842, 1.1334) centre (40, 40.9682) ccw construction
  arc A4 (43.1539, -0.195) -> (42.3315, -0.7537) centre (43.2303, -1.1921) ccw construction
  line L0 (41.1656, -3.1441) -> (42.3315, -0.7537) construction
  arc A5 (40.3017, -3.7051) -> (41.1656, -3.1441) centre (40.2668, -2.7057) ccw construction
  arc A6 (52.0929, 0.3214) -> (53.6654, -3.2384) centre (59.5047, 1.4682) ccw
  arc A7 (52.0929, 0.3214) -> (50.842, 1.1334) centre (51.1046, 0.1685) ccw
  arc A8 (40.3017, -3.7051) -> (41.1656, -3.1441) centre (40.2668, -2.7057) ccw
  line L1 (41.1656, -3.1441) -> (42.3315, -0.7537)
  arc A9 (43.1539, -0.195) -> (42.3315, -0.7537) centre (43.2303, -1.1921) ccw
  arc A10 (43.1539, -0.195) -> (50.842, 1.1334) centre (40, 40.9682) ccw
  line L2 (40.3017, -3.7051) -> (37.6613, -3.7973)
  line L3 (5.6654, -4.9146) -> (53.6654, -3.2384) construction
  line L4 (37.6613, -3.7973) -> (37.6613, -4.7973)
  line L5 (53.6654, -3.2384) -> (53.6654, -4.2384)
  line L6 (53.6654, -4.2384) -> (37.6613, -4.7973)
  dimension "d39" = 1
extrude "BottomCutFeature" cut sketch "BottomCut" against normal through all
fillet "BaseFilletsFeature" radius 2 2 edges at (136.3745, 24.9682, 1.5) (136.3745, 8.2153, 1.5)
properties part number "ForearmBaseLeft"
